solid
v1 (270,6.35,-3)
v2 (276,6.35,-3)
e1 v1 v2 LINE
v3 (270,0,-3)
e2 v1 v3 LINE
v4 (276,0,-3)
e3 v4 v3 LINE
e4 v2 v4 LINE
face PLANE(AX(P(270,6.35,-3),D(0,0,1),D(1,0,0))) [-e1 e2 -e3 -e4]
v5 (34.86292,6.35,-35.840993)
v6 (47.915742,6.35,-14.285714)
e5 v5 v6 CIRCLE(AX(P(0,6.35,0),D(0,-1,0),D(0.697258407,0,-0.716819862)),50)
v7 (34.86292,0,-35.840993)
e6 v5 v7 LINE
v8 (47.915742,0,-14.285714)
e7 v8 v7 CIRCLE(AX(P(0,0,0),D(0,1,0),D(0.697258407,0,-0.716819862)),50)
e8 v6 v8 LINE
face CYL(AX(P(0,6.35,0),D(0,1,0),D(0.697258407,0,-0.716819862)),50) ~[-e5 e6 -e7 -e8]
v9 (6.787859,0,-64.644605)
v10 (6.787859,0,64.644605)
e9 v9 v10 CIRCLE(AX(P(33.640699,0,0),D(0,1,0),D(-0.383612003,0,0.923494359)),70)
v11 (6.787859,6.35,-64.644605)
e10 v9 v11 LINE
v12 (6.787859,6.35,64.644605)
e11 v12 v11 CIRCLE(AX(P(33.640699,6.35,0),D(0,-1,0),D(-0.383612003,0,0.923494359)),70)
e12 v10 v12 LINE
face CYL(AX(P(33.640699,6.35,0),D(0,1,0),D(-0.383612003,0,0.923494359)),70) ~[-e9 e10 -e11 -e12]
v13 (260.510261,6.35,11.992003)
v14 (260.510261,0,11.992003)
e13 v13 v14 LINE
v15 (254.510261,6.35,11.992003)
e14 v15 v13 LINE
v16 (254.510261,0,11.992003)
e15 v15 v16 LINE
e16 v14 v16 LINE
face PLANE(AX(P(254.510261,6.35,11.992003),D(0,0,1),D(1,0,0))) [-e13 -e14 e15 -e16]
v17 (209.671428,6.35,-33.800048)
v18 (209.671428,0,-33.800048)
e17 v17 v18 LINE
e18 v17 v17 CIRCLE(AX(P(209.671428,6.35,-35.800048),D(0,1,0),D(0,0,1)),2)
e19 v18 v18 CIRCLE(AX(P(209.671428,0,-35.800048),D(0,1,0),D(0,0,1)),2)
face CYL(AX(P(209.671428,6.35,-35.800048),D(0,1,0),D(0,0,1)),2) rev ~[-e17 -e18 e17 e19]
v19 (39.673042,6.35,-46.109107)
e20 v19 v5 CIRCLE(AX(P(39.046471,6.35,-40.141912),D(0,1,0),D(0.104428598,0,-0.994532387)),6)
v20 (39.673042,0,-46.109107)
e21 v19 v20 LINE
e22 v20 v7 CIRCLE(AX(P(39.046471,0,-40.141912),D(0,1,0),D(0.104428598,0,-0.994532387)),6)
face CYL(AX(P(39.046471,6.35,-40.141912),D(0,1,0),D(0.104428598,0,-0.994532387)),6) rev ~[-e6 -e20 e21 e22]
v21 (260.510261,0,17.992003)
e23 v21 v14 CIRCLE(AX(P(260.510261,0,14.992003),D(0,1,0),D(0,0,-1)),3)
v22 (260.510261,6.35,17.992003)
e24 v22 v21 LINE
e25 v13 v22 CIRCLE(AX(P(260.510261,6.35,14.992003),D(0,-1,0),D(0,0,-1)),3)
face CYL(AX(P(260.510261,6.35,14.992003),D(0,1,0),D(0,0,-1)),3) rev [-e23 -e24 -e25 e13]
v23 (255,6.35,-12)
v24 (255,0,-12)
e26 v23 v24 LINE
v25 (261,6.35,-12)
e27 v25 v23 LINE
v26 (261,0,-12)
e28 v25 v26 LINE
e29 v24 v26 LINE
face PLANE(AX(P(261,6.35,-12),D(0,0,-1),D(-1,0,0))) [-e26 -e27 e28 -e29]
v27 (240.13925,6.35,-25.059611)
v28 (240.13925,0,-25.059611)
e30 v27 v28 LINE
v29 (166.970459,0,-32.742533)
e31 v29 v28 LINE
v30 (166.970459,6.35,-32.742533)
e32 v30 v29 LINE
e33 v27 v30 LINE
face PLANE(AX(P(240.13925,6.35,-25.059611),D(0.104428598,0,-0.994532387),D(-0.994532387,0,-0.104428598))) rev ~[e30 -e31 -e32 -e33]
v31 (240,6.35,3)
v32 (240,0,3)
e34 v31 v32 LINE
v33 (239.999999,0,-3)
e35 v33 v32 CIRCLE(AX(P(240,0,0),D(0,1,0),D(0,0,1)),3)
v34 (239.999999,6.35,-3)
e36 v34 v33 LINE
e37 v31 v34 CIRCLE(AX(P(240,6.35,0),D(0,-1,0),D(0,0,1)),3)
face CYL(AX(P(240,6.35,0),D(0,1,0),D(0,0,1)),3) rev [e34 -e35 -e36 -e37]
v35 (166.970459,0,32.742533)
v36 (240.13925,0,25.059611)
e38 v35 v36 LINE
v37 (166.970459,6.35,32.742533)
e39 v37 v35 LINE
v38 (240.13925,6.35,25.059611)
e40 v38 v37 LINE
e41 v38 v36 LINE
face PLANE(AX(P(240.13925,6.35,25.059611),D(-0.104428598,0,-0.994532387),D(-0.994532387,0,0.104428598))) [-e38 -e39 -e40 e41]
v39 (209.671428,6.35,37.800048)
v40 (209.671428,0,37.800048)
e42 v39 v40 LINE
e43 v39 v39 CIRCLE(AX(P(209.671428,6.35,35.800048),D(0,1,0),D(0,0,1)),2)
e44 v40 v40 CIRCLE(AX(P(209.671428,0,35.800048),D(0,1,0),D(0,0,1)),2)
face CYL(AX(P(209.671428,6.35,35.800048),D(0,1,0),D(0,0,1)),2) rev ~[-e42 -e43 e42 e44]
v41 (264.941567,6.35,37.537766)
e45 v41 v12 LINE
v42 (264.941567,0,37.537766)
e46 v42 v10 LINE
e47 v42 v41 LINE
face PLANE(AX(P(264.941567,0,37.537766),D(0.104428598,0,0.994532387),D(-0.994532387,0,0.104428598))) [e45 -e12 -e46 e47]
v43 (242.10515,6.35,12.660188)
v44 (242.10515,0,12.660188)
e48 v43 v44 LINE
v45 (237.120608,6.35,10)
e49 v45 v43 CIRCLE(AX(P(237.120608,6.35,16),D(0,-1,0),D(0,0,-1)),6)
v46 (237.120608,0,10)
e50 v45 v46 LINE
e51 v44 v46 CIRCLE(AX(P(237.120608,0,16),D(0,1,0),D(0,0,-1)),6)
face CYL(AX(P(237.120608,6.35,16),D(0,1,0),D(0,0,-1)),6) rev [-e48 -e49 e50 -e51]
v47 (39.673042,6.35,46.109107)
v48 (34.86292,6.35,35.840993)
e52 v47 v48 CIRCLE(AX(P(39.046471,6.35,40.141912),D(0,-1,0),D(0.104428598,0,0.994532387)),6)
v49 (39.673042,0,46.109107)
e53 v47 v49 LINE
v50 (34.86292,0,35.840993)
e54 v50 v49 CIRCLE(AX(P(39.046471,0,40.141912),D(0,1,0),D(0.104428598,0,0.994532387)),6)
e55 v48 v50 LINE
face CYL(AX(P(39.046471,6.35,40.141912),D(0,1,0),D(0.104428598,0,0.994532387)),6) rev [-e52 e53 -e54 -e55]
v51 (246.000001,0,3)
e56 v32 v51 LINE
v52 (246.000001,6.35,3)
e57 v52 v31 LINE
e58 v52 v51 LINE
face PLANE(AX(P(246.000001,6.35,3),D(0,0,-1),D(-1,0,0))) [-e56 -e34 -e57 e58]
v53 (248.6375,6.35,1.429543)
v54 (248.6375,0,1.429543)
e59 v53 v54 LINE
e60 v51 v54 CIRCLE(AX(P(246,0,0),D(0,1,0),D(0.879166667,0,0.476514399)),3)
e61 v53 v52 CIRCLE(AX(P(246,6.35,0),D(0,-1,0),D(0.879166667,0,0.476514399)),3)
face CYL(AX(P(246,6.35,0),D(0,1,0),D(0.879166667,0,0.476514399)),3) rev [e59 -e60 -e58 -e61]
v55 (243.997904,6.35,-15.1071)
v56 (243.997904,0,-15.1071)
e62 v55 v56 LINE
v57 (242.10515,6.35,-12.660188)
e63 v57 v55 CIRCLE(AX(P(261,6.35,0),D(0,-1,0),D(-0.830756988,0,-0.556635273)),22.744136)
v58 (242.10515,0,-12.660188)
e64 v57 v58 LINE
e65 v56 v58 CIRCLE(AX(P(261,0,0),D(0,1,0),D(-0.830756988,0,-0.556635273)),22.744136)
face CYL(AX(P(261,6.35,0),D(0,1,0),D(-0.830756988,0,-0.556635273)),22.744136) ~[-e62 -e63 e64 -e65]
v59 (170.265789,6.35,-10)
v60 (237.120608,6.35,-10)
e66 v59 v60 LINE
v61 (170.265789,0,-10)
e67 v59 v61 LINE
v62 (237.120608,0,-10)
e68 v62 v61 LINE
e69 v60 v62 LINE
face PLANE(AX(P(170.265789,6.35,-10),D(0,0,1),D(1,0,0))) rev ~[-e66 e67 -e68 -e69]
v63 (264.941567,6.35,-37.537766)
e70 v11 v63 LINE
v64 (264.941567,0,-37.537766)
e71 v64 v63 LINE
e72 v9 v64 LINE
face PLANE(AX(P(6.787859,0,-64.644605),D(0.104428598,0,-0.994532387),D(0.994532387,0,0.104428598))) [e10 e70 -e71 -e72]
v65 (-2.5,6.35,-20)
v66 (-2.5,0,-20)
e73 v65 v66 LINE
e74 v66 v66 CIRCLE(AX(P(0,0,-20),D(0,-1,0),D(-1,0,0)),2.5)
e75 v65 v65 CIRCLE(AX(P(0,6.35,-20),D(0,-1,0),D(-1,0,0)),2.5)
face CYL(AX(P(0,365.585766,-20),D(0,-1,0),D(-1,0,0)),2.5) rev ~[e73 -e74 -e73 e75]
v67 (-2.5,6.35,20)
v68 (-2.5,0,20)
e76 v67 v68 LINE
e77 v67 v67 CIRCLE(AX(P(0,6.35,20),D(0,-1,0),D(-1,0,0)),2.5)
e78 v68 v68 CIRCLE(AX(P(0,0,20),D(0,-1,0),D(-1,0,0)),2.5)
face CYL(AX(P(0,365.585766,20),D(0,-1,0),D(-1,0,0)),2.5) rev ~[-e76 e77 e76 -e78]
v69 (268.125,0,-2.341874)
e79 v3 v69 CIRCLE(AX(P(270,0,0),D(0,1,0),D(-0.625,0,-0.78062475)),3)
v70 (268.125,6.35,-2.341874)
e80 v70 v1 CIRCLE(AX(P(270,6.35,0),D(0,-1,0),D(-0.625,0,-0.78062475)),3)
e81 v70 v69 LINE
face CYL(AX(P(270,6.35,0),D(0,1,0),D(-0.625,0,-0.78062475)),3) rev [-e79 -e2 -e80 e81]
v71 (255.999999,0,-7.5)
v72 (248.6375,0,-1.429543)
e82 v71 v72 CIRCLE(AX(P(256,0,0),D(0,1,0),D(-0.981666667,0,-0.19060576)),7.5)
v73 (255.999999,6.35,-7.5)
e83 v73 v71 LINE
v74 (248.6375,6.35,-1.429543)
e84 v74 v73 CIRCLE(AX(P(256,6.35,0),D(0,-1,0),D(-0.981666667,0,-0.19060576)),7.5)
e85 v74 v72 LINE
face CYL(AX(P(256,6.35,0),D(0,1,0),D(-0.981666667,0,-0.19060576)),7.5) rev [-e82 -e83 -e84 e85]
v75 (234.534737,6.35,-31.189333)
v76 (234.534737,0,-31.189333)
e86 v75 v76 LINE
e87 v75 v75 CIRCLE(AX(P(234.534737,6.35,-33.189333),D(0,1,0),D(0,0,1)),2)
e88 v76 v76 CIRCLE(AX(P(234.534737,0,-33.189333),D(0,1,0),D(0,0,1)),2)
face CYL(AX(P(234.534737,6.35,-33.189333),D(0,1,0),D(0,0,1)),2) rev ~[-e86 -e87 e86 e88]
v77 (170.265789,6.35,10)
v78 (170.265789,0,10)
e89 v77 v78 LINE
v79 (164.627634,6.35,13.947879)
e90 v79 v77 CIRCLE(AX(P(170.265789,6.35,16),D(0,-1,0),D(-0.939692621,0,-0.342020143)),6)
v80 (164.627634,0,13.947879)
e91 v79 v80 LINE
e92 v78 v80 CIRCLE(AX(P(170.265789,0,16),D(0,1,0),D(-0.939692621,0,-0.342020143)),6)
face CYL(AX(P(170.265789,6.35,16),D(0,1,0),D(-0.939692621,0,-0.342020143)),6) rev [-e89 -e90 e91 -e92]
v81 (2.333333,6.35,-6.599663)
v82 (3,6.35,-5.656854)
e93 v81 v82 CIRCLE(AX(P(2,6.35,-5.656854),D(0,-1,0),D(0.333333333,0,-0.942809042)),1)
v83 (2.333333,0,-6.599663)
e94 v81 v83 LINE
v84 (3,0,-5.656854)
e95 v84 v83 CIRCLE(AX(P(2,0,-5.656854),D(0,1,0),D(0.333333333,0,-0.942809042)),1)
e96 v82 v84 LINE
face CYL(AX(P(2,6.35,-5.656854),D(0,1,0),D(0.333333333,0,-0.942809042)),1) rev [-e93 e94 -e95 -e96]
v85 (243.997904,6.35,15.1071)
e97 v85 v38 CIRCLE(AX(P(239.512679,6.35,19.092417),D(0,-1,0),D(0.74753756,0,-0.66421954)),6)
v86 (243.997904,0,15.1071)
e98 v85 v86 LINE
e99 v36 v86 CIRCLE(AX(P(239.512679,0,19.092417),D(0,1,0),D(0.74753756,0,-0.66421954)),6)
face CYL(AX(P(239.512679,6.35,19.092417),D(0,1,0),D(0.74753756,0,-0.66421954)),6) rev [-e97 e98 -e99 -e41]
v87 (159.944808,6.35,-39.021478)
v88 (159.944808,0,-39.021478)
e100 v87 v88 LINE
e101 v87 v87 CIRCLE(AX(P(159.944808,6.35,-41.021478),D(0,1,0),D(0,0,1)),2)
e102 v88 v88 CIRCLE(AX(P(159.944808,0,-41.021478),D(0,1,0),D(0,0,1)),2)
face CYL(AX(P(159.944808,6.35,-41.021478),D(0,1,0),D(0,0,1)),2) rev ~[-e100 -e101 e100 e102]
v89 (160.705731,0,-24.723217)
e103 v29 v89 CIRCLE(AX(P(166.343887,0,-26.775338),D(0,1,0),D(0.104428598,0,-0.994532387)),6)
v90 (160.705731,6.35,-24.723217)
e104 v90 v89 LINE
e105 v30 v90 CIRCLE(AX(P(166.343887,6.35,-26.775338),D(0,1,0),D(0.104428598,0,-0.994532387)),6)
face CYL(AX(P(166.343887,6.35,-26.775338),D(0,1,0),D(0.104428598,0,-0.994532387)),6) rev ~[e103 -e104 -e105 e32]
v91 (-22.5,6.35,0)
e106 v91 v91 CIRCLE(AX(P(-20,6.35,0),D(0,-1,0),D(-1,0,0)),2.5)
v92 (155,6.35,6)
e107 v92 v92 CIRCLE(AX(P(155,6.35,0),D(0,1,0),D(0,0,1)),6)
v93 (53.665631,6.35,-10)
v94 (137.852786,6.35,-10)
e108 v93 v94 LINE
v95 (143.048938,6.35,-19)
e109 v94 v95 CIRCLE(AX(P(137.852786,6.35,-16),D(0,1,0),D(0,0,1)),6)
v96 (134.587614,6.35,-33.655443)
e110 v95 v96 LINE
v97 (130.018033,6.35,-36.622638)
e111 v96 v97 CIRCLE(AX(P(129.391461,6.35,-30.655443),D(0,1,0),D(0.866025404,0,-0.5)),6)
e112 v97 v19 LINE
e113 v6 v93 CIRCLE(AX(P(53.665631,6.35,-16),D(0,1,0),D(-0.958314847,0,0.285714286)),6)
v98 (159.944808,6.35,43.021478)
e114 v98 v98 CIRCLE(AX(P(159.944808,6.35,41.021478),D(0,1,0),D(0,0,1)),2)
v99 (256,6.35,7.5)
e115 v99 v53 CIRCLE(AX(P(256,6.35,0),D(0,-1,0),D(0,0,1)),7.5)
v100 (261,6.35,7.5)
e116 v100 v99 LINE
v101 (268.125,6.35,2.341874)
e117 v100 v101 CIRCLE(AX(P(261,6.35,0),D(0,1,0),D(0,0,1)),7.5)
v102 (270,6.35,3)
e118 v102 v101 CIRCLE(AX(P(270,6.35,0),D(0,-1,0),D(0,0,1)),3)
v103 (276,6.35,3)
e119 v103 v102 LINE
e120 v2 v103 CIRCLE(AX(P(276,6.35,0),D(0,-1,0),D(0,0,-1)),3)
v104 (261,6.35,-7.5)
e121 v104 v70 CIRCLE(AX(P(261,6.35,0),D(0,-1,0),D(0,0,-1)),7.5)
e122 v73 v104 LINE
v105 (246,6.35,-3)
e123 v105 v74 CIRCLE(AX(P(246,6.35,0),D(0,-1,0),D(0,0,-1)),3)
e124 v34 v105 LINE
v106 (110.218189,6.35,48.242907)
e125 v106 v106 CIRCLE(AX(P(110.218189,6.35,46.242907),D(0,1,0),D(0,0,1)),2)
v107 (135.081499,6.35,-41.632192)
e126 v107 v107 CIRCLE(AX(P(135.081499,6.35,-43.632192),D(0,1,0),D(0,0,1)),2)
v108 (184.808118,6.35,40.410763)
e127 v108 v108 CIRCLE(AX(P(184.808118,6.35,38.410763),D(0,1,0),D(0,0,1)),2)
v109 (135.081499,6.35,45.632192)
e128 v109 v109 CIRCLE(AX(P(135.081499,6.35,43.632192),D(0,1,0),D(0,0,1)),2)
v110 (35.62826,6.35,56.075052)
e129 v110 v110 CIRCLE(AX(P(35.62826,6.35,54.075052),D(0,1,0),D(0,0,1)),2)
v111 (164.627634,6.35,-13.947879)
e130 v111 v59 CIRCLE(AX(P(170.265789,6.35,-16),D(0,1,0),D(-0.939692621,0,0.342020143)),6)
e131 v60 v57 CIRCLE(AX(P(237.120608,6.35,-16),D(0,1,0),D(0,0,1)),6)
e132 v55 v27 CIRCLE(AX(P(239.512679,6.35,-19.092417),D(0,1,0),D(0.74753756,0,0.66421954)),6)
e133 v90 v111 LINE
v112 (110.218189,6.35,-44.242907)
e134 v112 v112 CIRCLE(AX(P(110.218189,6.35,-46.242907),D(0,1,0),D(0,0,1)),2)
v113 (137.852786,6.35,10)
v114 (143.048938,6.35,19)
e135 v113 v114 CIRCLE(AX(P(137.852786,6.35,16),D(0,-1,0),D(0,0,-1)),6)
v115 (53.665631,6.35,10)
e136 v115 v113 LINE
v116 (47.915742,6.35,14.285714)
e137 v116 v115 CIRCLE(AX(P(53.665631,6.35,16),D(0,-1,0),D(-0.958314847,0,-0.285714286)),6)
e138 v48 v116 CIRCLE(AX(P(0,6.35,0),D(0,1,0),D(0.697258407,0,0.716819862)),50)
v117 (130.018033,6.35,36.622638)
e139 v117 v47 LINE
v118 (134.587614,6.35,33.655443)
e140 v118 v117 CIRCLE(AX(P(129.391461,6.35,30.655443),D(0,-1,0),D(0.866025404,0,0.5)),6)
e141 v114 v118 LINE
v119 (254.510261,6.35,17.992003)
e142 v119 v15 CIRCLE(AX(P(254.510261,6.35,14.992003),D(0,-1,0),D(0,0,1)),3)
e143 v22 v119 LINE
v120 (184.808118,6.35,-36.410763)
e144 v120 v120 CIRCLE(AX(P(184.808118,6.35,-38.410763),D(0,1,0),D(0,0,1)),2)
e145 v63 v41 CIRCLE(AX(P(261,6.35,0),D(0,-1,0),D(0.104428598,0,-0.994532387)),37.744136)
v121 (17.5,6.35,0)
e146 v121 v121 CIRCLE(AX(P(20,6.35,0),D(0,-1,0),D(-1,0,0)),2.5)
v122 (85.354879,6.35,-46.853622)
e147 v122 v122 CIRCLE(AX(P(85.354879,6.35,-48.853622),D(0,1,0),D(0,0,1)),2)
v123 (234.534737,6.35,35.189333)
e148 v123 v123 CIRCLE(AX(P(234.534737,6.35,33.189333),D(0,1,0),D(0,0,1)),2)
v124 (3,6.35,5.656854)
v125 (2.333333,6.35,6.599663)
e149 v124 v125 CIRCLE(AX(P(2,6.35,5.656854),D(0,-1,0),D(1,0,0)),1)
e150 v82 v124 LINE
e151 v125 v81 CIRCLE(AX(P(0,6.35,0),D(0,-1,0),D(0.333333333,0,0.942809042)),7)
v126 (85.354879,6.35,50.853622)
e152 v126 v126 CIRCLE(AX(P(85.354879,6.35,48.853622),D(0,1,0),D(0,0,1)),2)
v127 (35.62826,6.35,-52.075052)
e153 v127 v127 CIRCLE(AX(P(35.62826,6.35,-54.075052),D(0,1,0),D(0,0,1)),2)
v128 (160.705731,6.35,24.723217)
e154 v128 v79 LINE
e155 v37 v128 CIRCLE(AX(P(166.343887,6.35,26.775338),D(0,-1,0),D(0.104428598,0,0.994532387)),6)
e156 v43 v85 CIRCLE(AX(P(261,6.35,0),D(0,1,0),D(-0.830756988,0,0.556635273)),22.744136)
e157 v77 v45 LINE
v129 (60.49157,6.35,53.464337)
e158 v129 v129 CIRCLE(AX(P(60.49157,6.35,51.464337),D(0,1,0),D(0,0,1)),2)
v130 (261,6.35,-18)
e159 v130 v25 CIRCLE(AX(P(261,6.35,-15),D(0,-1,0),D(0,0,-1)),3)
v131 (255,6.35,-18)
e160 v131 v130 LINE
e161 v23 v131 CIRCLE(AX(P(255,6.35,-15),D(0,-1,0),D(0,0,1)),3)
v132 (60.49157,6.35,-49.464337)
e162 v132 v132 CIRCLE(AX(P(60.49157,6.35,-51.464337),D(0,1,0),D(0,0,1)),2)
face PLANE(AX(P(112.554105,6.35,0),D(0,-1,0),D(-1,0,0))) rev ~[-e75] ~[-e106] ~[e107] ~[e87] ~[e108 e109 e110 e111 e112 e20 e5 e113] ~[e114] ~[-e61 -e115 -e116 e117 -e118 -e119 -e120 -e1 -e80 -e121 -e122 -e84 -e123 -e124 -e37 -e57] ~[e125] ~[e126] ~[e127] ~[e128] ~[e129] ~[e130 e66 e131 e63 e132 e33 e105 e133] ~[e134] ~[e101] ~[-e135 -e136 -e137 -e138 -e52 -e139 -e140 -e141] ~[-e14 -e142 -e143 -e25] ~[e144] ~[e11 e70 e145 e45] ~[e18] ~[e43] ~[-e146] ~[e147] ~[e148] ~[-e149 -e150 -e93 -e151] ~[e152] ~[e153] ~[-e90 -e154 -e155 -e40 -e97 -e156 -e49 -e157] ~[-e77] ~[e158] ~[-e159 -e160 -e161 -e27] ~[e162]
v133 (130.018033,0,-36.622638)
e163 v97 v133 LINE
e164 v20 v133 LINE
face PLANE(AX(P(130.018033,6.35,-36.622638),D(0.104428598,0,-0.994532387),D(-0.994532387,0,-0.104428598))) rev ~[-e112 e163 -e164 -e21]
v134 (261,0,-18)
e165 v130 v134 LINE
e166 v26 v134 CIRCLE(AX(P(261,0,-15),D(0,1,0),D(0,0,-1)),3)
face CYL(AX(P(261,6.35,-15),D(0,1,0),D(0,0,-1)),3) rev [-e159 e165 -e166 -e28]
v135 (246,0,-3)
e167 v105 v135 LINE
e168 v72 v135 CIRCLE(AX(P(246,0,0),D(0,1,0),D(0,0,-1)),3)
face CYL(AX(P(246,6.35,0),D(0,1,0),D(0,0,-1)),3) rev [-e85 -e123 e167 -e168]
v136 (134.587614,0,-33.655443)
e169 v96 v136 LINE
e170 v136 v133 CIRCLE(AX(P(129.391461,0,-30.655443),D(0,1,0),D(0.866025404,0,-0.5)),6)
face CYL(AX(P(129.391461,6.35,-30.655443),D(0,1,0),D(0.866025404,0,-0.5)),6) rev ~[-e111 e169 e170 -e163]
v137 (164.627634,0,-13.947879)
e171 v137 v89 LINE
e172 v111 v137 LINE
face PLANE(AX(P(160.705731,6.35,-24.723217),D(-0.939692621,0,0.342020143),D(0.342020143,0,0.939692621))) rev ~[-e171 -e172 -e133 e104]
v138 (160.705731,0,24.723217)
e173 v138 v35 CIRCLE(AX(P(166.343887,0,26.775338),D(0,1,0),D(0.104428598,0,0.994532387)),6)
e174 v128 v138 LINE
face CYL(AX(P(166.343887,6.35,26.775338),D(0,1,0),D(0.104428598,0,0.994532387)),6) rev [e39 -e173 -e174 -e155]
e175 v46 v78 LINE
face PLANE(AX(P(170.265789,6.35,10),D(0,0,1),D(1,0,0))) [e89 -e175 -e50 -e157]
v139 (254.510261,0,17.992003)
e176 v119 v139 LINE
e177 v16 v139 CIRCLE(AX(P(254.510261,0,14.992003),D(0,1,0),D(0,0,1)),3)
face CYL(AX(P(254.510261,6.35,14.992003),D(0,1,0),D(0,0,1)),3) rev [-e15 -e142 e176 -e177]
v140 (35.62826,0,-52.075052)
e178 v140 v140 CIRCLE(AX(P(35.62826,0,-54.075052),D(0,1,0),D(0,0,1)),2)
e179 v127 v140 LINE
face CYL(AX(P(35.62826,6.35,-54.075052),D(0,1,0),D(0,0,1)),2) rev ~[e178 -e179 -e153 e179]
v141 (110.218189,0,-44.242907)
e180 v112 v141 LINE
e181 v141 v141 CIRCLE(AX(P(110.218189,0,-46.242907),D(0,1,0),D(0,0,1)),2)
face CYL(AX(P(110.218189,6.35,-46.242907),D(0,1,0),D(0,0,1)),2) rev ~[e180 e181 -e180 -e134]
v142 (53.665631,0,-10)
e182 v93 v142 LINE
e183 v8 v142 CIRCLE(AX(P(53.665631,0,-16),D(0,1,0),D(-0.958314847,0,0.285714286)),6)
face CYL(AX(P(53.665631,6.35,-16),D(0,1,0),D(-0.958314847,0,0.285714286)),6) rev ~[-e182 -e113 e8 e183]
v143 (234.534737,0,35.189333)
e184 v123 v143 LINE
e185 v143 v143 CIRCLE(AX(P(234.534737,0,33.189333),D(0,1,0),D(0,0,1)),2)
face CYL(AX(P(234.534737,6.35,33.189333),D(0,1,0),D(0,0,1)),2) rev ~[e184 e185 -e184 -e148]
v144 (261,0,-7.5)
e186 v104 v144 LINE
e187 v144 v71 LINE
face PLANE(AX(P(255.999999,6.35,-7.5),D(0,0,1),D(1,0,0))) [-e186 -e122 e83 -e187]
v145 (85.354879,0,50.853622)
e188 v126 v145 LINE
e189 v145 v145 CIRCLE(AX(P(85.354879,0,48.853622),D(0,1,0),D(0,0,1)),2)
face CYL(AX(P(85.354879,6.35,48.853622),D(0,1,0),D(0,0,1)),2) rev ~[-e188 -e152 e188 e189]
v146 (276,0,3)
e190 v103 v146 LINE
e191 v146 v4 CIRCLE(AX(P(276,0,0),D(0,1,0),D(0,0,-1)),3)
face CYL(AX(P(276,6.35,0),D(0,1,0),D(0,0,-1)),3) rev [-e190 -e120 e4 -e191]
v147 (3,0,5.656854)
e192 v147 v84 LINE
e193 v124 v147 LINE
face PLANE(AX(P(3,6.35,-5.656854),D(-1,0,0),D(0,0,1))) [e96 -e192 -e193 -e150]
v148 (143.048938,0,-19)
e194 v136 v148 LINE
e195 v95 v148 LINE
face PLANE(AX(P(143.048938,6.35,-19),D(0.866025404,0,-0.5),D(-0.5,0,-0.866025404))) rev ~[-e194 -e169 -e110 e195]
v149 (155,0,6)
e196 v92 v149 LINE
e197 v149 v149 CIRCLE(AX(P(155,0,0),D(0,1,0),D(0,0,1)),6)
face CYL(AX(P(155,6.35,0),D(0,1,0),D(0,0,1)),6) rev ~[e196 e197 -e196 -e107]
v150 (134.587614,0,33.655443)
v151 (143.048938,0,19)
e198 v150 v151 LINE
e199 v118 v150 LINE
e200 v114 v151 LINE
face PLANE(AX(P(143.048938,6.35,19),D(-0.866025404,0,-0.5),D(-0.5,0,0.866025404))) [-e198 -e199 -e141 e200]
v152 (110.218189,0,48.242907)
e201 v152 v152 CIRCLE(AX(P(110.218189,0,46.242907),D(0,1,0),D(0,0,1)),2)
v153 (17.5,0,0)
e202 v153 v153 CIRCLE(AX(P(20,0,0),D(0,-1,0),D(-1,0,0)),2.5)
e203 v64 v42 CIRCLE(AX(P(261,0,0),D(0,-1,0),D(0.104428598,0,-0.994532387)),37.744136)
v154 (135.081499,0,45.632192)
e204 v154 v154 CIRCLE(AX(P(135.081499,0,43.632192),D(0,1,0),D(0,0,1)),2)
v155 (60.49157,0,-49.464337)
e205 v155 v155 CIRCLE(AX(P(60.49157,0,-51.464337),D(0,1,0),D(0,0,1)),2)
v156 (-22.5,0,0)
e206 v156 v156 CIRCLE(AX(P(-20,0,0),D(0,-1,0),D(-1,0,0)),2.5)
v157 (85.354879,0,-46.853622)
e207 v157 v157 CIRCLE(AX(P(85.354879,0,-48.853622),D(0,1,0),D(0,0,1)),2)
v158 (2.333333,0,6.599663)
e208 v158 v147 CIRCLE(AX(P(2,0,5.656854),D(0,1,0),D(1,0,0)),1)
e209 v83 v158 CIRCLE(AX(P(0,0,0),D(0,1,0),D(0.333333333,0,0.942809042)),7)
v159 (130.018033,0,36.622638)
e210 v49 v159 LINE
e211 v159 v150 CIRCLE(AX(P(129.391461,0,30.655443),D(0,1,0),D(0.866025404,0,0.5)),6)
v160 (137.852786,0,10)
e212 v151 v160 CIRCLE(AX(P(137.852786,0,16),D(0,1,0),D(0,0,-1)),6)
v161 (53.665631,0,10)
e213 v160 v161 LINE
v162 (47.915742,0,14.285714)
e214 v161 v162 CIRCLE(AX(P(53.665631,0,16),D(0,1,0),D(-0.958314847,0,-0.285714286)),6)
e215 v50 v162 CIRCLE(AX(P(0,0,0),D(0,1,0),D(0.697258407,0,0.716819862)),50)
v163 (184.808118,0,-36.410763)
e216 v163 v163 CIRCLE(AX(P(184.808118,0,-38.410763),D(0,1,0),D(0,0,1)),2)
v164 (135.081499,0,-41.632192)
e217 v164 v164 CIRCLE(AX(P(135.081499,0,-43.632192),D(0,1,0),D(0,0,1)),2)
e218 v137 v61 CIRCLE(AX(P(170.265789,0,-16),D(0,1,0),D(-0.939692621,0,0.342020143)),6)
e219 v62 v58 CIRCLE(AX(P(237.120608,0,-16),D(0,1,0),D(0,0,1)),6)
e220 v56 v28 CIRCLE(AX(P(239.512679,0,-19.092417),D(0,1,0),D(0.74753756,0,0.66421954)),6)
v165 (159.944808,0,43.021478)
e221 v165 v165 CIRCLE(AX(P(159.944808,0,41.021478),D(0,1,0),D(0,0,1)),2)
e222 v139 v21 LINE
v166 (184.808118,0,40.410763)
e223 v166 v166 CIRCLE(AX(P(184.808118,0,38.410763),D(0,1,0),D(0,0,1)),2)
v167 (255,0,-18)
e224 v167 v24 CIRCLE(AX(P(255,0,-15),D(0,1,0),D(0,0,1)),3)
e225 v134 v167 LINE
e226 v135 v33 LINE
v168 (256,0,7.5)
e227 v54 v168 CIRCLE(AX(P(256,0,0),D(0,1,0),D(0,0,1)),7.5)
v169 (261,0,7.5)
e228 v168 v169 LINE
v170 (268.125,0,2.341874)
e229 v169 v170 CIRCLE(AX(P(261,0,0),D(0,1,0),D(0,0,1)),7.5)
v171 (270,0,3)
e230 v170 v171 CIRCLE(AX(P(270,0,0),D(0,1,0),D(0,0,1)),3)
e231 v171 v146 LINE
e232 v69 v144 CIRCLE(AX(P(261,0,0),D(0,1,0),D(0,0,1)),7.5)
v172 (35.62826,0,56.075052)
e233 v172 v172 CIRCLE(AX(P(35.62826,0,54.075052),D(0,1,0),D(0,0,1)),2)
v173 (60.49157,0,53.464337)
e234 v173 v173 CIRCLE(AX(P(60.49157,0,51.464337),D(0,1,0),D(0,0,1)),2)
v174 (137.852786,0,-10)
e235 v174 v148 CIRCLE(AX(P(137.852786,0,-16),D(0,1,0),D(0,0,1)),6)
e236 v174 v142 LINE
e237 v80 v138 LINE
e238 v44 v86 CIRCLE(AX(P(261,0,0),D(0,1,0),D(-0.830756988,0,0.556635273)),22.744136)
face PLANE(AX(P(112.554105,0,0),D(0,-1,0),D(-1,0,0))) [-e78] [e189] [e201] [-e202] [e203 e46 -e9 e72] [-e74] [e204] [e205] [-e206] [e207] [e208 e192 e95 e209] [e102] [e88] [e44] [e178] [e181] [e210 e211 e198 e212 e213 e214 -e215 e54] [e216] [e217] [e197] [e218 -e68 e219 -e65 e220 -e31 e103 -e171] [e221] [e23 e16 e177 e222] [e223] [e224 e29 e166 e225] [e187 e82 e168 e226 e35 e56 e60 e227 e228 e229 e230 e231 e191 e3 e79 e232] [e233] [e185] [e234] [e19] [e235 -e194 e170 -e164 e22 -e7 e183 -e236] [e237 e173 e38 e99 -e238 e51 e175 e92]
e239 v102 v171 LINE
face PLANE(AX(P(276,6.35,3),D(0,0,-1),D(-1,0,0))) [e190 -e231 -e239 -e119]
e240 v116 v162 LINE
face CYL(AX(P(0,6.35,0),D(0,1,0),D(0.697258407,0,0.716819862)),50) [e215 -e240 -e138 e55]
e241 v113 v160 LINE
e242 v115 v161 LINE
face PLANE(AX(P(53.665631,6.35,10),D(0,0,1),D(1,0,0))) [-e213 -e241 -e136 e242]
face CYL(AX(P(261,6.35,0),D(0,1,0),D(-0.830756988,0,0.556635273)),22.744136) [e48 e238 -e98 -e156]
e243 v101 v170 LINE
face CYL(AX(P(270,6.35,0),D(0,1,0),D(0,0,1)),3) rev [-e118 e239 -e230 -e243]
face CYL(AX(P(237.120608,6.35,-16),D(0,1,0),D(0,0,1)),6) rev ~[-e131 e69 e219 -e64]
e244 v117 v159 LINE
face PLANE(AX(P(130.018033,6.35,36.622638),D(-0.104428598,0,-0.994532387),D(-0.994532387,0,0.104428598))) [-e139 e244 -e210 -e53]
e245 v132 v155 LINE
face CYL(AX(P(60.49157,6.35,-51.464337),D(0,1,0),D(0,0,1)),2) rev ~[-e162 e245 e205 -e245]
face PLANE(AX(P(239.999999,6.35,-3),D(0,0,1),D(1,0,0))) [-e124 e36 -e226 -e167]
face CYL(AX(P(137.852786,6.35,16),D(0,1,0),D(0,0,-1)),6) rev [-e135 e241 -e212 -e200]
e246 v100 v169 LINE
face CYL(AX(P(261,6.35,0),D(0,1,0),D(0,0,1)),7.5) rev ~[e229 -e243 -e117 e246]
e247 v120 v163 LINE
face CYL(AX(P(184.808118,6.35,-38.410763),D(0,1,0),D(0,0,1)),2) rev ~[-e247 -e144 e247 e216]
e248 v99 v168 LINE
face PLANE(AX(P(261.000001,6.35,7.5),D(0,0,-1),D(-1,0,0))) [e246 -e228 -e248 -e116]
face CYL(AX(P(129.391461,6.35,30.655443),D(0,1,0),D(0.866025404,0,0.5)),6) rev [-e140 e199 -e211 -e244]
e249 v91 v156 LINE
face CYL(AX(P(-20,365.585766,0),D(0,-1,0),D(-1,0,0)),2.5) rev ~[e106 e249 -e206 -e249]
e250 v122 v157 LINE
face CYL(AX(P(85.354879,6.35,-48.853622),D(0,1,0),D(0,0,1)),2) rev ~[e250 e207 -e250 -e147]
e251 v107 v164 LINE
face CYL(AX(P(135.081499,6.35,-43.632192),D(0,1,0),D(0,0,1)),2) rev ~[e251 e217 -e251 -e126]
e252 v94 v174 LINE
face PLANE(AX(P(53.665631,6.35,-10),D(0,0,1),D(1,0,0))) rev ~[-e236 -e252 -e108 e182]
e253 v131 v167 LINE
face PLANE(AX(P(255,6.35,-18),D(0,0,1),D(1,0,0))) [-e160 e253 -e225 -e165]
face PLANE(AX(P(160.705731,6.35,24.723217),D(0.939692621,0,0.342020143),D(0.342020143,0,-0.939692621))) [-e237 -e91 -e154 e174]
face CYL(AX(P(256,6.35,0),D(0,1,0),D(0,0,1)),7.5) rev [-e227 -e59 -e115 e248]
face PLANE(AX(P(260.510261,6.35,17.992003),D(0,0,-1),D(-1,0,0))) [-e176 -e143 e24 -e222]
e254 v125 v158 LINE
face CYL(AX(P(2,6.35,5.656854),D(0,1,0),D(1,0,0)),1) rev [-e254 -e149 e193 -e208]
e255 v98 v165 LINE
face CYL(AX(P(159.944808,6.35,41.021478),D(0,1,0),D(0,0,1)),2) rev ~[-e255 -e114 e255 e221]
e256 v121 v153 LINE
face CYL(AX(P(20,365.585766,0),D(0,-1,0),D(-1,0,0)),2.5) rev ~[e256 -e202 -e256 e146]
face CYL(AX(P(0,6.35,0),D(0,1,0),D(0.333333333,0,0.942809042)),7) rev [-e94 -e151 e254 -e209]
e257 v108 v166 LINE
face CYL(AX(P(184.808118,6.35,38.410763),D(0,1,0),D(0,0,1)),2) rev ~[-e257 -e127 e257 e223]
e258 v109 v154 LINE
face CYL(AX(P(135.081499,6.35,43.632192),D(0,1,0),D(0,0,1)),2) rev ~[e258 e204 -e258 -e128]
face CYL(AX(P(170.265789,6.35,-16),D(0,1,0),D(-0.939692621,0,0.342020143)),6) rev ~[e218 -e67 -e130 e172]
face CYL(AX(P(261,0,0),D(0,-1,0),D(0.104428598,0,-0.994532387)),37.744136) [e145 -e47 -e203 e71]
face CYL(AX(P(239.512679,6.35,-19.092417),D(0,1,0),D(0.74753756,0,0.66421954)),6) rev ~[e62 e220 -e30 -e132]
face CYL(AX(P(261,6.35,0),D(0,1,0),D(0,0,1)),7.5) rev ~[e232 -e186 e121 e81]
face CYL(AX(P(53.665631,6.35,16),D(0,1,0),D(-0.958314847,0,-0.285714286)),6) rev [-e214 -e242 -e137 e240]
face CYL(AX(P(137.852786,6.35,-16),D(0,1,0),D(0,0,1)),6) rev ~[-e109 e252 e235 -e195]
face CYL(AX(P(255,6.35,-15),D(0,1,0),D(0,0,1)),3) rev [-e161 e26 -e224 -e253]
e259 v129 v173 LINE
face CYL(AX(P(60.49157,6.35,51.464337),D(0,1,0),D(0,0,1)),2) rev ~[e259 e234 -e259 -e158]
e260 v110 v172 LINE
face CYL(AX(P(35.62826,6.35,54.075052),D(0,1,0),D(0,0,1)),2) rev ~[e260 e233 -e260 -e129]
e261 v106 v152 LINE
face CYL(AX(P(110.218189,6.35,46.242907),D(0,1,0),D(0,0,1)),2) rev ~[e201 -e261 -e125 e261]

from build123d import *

# Parameters (mm, degrees)
BOSS_EXTRUDE1_DEPTH   = 6.35
CUT_EXTRUDE1_DEPTH    = 306.7995770016471
SKETCH3_R             = 7.500000000000012
CUT_EXTRUDE2_DEPTH    = 306.7242323837137
M6X1_0_TAPPED_HOLE1_D = 5
CUT_EXTRUDE4_DEPTH    = 10
SKETCH8_R             = 1.9999999999998708
SKETCH8_R_2           = 2.0000000000000036
SKETCH8_R_3           = 2.00000000000001
SKETCH8_R_4           = 1.9999999999999967
SKETCH8_R_5           = 2.0000000000000275
SKETCH8_R_6           = 1.9999999999999787
CUT_EXTRUDE5_DEPTH    = 10
SKETCH9_R             = 6.000000000000016
CUT_EXTRUDE6_DEPTH    = 10


with BuildPart() as part:
    # Sketch1 → Boss-Extrude1 (new body)
    with BuildSketch(Plane(origin=(0, 0, 0), x_dir=(1, 0, 0), z_dir=(0, 1, 0))):
        with BuildLine():
            Line((6.787858850574763, 64.64460512853856), (264.94156719392146, 37.537765655966744))
            ThreePointArc((264.94156719392146, 37.537765655966744), (298.7441359999997, 0), (264.94156719392146, -37.53776565596673))
            Line((264.94156719392146, -37.53776565596673), (6.787858850574784, -64.64460512853856))
            ThreePointArc((6.787858850574784, -64.64460512853856), (-65, 7.96e-15), (6.787858850574763, 64.64460512853856))
        make_face()
    extrude(amount=BOSS_EXTRUDE1_DEPTH)

    # Sketch2 → Cut-Extrude1 (cut, through all)
    with BuildSketch(Plane(origin=(0, 6.35, 0), x_dir=(1, 0, 0), z_dir=(0, 1, 0))):
        with BuildLine():
            Line((130.0180329989465, 36.62263756219651), (39.67304235209024, 46.10910659001378))
            ThreePointArc((39.67304235209024, 46.10910659001378), (33.61309581948125, 42.68718960147752), (34.86292032668156, 35.84099309862177))
            ThreePointArc((34.86292032668156, 35.84099309862177), (42.769548288999374, 25.89914552943688), (47.915742374995496, 14.285714285714283))
            ThreePointArc((47.915742374995496, 14.285714285714283), (50.07994563199178, 11.189297645576358), (53.665631459994955, 9.999999999999998))
            Line((53.665631459994955, 9.999999999999998), (137.8527855139708, 10.000000000000002))
            ThreePointArc((137.8527855139708, 10.000000000000002), (143.04893793667748, 13.000000000000009), (143.04893793667742, 19.000000000000078))
            Line((143.04893793667742, 19.000000000000078), (134.58761383544618, 33.65544324263917))
            ThreePointArc((134.58761383544618, 33.65544324263917), (132.65904297308322, 35.68763071395833), (130.0180329989465, 36.62263756219651))
        make_face()
        with BuildLine():
            Line((170.26578942302294, 10), (237.1206081654813, 10.000000000000002))
            ThreePointArc((237.1206081654813, 10.000000000000002), (239.94559756005083, 10.706661269050542), (242.10515009108008, 12.660188359810123))
            ThreePointArc((242.10515009108008, 12.660188359810123), (243.00987705511346, 13.915861411150573), (243.9979040786778, 15.107099545201987))
            ThreePointArc((243.9979040786778, 15.107099545201987), (245.10693815146783, 21.261347723744738), (240.1392503071075, 25.05961110306701))
            Line((240.1392503071075, 25.05961110306701), (166.9704585881833, 32.74253266268689))
            ThreePointArc((166.9704585881833, 32.74253266268689), (161.61563702112477, 30.46906980583447), (160.70573127726095, 24.723217483175404))
            Line((160.70573127726095, 24.723217483175404), (164.6276336983075, 13.94787914004592))
            ThreePointArc((164.6276336983075, 13.94787914004592), (166.82433080491668, 11.085087734266024), (170.26578942302294, 10))
        make_face()
        with BuildLine():
            Line((170.26578942302294, -10), (237.1206081654813, -10.000000000000002))
            ThreePointArc((237.1206081654813, -10.000000000000002), (239.94559756005083, -10.706661269050542), (242.10515009108008, -12.660188359810123))
            ThreePointArc((242.10515009108008, -12.660188359810123), (243.00987705511346, -13.915861411150573), (243.9979040786778, -15.107099545201987))
            ThreePointArc((243.9979040786778, -15.107099545201987), (245.10693815146783, -21.261347723744738), (240.1392503071075, -25.05961110306701))
            Line((240.1392503071075, -25.05961110306701), (166.9704585881833, -32.74253266268689))
            ThreePointArc((166.9704585881833, -32.74253266268689), (161.61563702112477, -30.46906980583447), (160.70573127726095, -24.723217483175404))
            Line((160.70573127726095, -24.723217483175404), (164.6276336983075, -13.94787914004592))
            ThreePointArc((164.6276336983075, -13.94787914004592), (166.82433080491668, -11.085087734266024), (170.26578942302294, -10))
        make_face()
        with BuildLine():
            Line((130.01803299894652, -36.622637562196495), (39.67304235209024, -46.10910659001378))
            ThreePointArc((39.67304235209024, -46.10910659001378), (33.61309581948125, -42.68718960147752), (34.86292032668156, -35.84099309862177))
            ThreePointArc((34.86292032668156, -35.84099309862177), (42.769548288999374, -25.89914552943688), (47.915742374995496, -14.285714285714283))
            ThreePointArc((47.915742374995496, -14.285714285714283), (50.07994563199178, -11.189297645576358), (53.665631459994955, -9.999999999999998))
            Line((53.665631459994955, -9.999999999999998), (137.8527855139708, -10))
            ThreePointArc((137.8527855139708, -10), (143.04893793667745, -13.000000000000027), (143.0489379366774, -19.000000000000057))
            Line((143.0489379366774, -19.000000000000057), (134.58761383544623, -33.65544324263918))
            ThreePointArc((134.58761383544623, -33.65544324263918), (132.65904297308327, -35.687630713958356), (130.01803299894652, -36.622637562196495))
        make_face()
        with BuildLine():
            ThreePointArc((6.787858850574784, -64.64460512853856), (-36.35930093139005, 2.251e-14), (6.787858850574836, 64.64460512853859))
            ThreePointArc((6.787858850574836, 64.64460512853859), (-65.00000000000003, 3.683e-14), (6.787858850574784, -64.64460512853856))
        make_face()
    extrude(amount=-CUT_EXTRUDE1_DEPTH, mode=Mode.SUBTRACT)

    # Sketch3 → Cut-Extrude2 (cut, through all)
    with BuildSketch(Plane(origin=(0, 6.35, 0), x_dir=(1, 0, 0), z_dir=(0, 1, 0))):
        with Locations(Location((261, 0, 0), (0, 0, 270))):
            Circle(SKETCH3_R)
        with BuildLine():
            Line((3.0000000000000004, 5.65685424949238), (3.0000000000000004, -5.65685424949238))
            ThreePointArc((3.0000000000000004, -5.65685424949238), (2.8164965809277267, -6.234204518682005), (2.333333333333334, -6.599663291074442))
            ThreePointArc((2.333333333333334, -6.599663291074442), (-6.999999999999999, 8.6e-16), (2.333333333333334, 6.599663291074442))
            ThreePointArc((2.333333333333334, 6.599663291074442), (2.8164965809277267, 6.234204518682005), (3.0000000000000004, 5.65685424949238))
        make_face()
    extrude(amount=-CUT_EXTRUDE2_DEPTH, mode=Mode.SUBTRACT)

    # M6x1.0 Tapped Hole1 (through all)
    with Locations(Plane(origin=(0, 6.35, 0), x_dir=(1, 0, 0), z_dir=(0, 1, 0))):
        with Locations((0, 20), (20, 0), (0, -20), (-20, 0), (276, 0), (246.00004616, 0.037212923), (246, 0), (260.510261233, 14.992003066), (260.510261233, -14.992003066)):
            Hole(M6X1_0_TAPPED_HOLE1_D / 2)

    # Sketch7 → Cut-Extrude4 (cut)
    with BuildSketch(Plane(origin=(0, 6.35, 0), x_dir=(1, 0, 0), z_dir=(0, 1, 0))):
        with BuildLine():
            Line((261.0000005017777, -7.5), (256, -7.5))
            ThreePointArc((256, -7.5), (251.2288142968451, -5.786690503734399), (248.63750000000002, -1.42954319626934))
            ThreePointArc((248.63750000000002, -1.42954319626934), (247.53482452006037, -2.577656628145443), (246.00000083547474, -3.0000000000000013))
            Line((246.00000083547474, -3.0000000000000013), (240, -3.000000000000001))
            ThreePointArc((240, -3.000000000000001), (236.99999999999991, -4.1773736761e-07), (239.99999916452526, 3.0000000000000004))
            Line((239.99999916452526, 3.0000000000000004), (246, 3))
            ThreePointArc((246, 3), (247.53482416113246, 2.577656841863176), (248.63750000000002, 1.42954319626934))
            ThreePointArc((248.63750000000002, 1.42954319626934), (251.2288141032696, 5.786690344129463), (255.99999949822234, 7.5))
            Line((255.99999949822234, 7.5), (261, 7.5))
            ThreePointArc((261, 7.5), (265.39806452485095, 6.07511550797577), (268.125, 2.341874249399391))
            ThreePointArc((268.125, 2.341874249399391), (269.0064263359464, 2.830690971140985), (270, 3))
            Line((270, 3), (276, 3))
            ThreePointArc((276, 3), (279, 0), (276, -3))
            Line((276, -3), (270, -3))
            ThreePointArc((270, -3), (269.0064263359464, -2.8306909711409793), (268.125, -2.341874249399391))
            ThreePointArc((268.125, -2.341874249399391), (265.39806472807476, -6.075115360852396), (261.0000005017777, -7.5))
        make_face()
        with BuildLine():
            Line((260.51026123316717, -17.992003066310435), (254.51026123316717, -17.99200306631043))
            ThreePointArc((254.51026123316717, -17.99200306631043), (251.51026123316717, -14.992003066310435), (254.51026123316717, -11.992003066310438))
            Line((254.51026123316717, -11.992003066310438), (260.51026123316717, -11.992003066310433))
            ThreePointArc((260.51026123316717, -11.992003066310433), (263.51026123316717, -14.992003066310435), (260.51026123316717, -17.992003066310435))
        make_face()
        with BuildLine():
            Line((261, 12.000000000000014), (255, 12.00000000000001))
            ThreePointArc((255, 12.00000000000001), (252, 15.000000000000012), (255, 18.000000000000014))
            Line((255, 18.000000000000014), (261, 18.000000000000014))
            ThreePointArc((261, 18.000000000000014), (264, 15.000000000000014), (261, 12.000000000000014))
        make_face()
    extrude(amount=-CUT_EXTRUDE4_DEPTH, mode=Mode.SUBTRACT)

    # Sketch8 → Cut-Extrude5 (cut)
    with BuildSketch(Plane(origin=(0, 6.35, 0), x_dir=(1, 0, 0), z_dir=(0, 1, 0))):
        with Locations(Location((35.6282598801996, -54.07505226292096, 0), (0, 0, 270))):
            Circle(SKETCH8_R)
        with Locations(Location((60.49156954502199, -51.46433732039219, 0), (0, 0, 270))):
            Circle(SKETCH8_R_2)
        with Locations(Location((85.35487920984451, -48.853622377863424, 0), (0, 0, 270))):
            Circle(SKETCH8_R_3)
        with Locations(Location((110.21818887466702, -46.24290743533465, 0), (0, 0, 270))):
            Circle(SKETCH8_R_4)
        with Locations(Location((135.08149853948953, -43.63219249280589, 0), (0, 0, 270))):
            Circle(SKETCH8_R_5)
        with Locations(Location((159.9448082043121, -41.02147755027711, 0), (0, 0, 270))):
            Circle(SKETCH8_R_4)
        with Locations(Location((184.8081178691346, -38.41076260774834, 0), (0, 0, 270))):
            Circle(SKETCH8_R_4)
        with Locations(Location((209.67142753395711, -35.80004766521956, 0), (0, 0, 270))):
            Circle(SKETCH8_R_4)
        with Locations(Location((234.53473719877965, -33.1893327226908, 0), (0, 0, 270))):
            Circle(SKETCH8_R_4)
        with Locations(Location((234.53473719877965, 33.1893327226908, 0), (0, 0, 270))):
            Circle(SKETCH8_R_4)
        with Locations(Location((209.67142753395711, 35.80004766521956, 0), (0, 0, 270))):
            Circle(SKETCH8_R_4)
        with Locations(Location((184.8081178691346, 38.41076260774834, 0), (0, 0, 270))):
            Circle(SKETCH8_R_4)
        with Locations(Location((159.9448082043121, 41.02147755027711, 0), (0, 0, 270))):
            Circle(SKETCH8_R_4)
        with Locations(Location((135.08149853948953, 43.63219249280589, 0), (0, 0, 270))):
            Circle(SKETCH8_R_5)
        with Locations(Location((110.21818887466702, 46.24290743533465, 0), (0, 0, 270))):
            Circle(SKETCH8_R_4)
        with Locations(Location((85.35487920984451, 48.853622377863424, 0), (0, 0, 270))):
            Circle(SKETCH8_R_3)
        with Locations(Location((60.49156954502199, 51.46433732039219, 0), (0, 0, 270))):
            Circle(SKETCH8_R_2)
        with Locations(Location((35.628259880199494, 54.07505226292097, 0), (0, 0, 270))):
            Circle(SKETCH8_R_6)
    extrude(amount=-CUT_EXTRUDE5_DEPTH, mode=Mode.SUBTRACT)

    # Sketch9 → Cut-Extrude6 (cut)
    with BuildSketch(Plane(origin=(0, 6.35, 0), x_dir=(1, 0, 0), z_dir=(0, 1, 0))):
        with Locations(Location((155, 0, 0), (0, 0, 270))):
            Circle(SKETCH9_R)
    extrude(amount=-CUT_EXTRUDE6_DEPTH, mode=Mode.SUBTRACT)


solid = part.part
